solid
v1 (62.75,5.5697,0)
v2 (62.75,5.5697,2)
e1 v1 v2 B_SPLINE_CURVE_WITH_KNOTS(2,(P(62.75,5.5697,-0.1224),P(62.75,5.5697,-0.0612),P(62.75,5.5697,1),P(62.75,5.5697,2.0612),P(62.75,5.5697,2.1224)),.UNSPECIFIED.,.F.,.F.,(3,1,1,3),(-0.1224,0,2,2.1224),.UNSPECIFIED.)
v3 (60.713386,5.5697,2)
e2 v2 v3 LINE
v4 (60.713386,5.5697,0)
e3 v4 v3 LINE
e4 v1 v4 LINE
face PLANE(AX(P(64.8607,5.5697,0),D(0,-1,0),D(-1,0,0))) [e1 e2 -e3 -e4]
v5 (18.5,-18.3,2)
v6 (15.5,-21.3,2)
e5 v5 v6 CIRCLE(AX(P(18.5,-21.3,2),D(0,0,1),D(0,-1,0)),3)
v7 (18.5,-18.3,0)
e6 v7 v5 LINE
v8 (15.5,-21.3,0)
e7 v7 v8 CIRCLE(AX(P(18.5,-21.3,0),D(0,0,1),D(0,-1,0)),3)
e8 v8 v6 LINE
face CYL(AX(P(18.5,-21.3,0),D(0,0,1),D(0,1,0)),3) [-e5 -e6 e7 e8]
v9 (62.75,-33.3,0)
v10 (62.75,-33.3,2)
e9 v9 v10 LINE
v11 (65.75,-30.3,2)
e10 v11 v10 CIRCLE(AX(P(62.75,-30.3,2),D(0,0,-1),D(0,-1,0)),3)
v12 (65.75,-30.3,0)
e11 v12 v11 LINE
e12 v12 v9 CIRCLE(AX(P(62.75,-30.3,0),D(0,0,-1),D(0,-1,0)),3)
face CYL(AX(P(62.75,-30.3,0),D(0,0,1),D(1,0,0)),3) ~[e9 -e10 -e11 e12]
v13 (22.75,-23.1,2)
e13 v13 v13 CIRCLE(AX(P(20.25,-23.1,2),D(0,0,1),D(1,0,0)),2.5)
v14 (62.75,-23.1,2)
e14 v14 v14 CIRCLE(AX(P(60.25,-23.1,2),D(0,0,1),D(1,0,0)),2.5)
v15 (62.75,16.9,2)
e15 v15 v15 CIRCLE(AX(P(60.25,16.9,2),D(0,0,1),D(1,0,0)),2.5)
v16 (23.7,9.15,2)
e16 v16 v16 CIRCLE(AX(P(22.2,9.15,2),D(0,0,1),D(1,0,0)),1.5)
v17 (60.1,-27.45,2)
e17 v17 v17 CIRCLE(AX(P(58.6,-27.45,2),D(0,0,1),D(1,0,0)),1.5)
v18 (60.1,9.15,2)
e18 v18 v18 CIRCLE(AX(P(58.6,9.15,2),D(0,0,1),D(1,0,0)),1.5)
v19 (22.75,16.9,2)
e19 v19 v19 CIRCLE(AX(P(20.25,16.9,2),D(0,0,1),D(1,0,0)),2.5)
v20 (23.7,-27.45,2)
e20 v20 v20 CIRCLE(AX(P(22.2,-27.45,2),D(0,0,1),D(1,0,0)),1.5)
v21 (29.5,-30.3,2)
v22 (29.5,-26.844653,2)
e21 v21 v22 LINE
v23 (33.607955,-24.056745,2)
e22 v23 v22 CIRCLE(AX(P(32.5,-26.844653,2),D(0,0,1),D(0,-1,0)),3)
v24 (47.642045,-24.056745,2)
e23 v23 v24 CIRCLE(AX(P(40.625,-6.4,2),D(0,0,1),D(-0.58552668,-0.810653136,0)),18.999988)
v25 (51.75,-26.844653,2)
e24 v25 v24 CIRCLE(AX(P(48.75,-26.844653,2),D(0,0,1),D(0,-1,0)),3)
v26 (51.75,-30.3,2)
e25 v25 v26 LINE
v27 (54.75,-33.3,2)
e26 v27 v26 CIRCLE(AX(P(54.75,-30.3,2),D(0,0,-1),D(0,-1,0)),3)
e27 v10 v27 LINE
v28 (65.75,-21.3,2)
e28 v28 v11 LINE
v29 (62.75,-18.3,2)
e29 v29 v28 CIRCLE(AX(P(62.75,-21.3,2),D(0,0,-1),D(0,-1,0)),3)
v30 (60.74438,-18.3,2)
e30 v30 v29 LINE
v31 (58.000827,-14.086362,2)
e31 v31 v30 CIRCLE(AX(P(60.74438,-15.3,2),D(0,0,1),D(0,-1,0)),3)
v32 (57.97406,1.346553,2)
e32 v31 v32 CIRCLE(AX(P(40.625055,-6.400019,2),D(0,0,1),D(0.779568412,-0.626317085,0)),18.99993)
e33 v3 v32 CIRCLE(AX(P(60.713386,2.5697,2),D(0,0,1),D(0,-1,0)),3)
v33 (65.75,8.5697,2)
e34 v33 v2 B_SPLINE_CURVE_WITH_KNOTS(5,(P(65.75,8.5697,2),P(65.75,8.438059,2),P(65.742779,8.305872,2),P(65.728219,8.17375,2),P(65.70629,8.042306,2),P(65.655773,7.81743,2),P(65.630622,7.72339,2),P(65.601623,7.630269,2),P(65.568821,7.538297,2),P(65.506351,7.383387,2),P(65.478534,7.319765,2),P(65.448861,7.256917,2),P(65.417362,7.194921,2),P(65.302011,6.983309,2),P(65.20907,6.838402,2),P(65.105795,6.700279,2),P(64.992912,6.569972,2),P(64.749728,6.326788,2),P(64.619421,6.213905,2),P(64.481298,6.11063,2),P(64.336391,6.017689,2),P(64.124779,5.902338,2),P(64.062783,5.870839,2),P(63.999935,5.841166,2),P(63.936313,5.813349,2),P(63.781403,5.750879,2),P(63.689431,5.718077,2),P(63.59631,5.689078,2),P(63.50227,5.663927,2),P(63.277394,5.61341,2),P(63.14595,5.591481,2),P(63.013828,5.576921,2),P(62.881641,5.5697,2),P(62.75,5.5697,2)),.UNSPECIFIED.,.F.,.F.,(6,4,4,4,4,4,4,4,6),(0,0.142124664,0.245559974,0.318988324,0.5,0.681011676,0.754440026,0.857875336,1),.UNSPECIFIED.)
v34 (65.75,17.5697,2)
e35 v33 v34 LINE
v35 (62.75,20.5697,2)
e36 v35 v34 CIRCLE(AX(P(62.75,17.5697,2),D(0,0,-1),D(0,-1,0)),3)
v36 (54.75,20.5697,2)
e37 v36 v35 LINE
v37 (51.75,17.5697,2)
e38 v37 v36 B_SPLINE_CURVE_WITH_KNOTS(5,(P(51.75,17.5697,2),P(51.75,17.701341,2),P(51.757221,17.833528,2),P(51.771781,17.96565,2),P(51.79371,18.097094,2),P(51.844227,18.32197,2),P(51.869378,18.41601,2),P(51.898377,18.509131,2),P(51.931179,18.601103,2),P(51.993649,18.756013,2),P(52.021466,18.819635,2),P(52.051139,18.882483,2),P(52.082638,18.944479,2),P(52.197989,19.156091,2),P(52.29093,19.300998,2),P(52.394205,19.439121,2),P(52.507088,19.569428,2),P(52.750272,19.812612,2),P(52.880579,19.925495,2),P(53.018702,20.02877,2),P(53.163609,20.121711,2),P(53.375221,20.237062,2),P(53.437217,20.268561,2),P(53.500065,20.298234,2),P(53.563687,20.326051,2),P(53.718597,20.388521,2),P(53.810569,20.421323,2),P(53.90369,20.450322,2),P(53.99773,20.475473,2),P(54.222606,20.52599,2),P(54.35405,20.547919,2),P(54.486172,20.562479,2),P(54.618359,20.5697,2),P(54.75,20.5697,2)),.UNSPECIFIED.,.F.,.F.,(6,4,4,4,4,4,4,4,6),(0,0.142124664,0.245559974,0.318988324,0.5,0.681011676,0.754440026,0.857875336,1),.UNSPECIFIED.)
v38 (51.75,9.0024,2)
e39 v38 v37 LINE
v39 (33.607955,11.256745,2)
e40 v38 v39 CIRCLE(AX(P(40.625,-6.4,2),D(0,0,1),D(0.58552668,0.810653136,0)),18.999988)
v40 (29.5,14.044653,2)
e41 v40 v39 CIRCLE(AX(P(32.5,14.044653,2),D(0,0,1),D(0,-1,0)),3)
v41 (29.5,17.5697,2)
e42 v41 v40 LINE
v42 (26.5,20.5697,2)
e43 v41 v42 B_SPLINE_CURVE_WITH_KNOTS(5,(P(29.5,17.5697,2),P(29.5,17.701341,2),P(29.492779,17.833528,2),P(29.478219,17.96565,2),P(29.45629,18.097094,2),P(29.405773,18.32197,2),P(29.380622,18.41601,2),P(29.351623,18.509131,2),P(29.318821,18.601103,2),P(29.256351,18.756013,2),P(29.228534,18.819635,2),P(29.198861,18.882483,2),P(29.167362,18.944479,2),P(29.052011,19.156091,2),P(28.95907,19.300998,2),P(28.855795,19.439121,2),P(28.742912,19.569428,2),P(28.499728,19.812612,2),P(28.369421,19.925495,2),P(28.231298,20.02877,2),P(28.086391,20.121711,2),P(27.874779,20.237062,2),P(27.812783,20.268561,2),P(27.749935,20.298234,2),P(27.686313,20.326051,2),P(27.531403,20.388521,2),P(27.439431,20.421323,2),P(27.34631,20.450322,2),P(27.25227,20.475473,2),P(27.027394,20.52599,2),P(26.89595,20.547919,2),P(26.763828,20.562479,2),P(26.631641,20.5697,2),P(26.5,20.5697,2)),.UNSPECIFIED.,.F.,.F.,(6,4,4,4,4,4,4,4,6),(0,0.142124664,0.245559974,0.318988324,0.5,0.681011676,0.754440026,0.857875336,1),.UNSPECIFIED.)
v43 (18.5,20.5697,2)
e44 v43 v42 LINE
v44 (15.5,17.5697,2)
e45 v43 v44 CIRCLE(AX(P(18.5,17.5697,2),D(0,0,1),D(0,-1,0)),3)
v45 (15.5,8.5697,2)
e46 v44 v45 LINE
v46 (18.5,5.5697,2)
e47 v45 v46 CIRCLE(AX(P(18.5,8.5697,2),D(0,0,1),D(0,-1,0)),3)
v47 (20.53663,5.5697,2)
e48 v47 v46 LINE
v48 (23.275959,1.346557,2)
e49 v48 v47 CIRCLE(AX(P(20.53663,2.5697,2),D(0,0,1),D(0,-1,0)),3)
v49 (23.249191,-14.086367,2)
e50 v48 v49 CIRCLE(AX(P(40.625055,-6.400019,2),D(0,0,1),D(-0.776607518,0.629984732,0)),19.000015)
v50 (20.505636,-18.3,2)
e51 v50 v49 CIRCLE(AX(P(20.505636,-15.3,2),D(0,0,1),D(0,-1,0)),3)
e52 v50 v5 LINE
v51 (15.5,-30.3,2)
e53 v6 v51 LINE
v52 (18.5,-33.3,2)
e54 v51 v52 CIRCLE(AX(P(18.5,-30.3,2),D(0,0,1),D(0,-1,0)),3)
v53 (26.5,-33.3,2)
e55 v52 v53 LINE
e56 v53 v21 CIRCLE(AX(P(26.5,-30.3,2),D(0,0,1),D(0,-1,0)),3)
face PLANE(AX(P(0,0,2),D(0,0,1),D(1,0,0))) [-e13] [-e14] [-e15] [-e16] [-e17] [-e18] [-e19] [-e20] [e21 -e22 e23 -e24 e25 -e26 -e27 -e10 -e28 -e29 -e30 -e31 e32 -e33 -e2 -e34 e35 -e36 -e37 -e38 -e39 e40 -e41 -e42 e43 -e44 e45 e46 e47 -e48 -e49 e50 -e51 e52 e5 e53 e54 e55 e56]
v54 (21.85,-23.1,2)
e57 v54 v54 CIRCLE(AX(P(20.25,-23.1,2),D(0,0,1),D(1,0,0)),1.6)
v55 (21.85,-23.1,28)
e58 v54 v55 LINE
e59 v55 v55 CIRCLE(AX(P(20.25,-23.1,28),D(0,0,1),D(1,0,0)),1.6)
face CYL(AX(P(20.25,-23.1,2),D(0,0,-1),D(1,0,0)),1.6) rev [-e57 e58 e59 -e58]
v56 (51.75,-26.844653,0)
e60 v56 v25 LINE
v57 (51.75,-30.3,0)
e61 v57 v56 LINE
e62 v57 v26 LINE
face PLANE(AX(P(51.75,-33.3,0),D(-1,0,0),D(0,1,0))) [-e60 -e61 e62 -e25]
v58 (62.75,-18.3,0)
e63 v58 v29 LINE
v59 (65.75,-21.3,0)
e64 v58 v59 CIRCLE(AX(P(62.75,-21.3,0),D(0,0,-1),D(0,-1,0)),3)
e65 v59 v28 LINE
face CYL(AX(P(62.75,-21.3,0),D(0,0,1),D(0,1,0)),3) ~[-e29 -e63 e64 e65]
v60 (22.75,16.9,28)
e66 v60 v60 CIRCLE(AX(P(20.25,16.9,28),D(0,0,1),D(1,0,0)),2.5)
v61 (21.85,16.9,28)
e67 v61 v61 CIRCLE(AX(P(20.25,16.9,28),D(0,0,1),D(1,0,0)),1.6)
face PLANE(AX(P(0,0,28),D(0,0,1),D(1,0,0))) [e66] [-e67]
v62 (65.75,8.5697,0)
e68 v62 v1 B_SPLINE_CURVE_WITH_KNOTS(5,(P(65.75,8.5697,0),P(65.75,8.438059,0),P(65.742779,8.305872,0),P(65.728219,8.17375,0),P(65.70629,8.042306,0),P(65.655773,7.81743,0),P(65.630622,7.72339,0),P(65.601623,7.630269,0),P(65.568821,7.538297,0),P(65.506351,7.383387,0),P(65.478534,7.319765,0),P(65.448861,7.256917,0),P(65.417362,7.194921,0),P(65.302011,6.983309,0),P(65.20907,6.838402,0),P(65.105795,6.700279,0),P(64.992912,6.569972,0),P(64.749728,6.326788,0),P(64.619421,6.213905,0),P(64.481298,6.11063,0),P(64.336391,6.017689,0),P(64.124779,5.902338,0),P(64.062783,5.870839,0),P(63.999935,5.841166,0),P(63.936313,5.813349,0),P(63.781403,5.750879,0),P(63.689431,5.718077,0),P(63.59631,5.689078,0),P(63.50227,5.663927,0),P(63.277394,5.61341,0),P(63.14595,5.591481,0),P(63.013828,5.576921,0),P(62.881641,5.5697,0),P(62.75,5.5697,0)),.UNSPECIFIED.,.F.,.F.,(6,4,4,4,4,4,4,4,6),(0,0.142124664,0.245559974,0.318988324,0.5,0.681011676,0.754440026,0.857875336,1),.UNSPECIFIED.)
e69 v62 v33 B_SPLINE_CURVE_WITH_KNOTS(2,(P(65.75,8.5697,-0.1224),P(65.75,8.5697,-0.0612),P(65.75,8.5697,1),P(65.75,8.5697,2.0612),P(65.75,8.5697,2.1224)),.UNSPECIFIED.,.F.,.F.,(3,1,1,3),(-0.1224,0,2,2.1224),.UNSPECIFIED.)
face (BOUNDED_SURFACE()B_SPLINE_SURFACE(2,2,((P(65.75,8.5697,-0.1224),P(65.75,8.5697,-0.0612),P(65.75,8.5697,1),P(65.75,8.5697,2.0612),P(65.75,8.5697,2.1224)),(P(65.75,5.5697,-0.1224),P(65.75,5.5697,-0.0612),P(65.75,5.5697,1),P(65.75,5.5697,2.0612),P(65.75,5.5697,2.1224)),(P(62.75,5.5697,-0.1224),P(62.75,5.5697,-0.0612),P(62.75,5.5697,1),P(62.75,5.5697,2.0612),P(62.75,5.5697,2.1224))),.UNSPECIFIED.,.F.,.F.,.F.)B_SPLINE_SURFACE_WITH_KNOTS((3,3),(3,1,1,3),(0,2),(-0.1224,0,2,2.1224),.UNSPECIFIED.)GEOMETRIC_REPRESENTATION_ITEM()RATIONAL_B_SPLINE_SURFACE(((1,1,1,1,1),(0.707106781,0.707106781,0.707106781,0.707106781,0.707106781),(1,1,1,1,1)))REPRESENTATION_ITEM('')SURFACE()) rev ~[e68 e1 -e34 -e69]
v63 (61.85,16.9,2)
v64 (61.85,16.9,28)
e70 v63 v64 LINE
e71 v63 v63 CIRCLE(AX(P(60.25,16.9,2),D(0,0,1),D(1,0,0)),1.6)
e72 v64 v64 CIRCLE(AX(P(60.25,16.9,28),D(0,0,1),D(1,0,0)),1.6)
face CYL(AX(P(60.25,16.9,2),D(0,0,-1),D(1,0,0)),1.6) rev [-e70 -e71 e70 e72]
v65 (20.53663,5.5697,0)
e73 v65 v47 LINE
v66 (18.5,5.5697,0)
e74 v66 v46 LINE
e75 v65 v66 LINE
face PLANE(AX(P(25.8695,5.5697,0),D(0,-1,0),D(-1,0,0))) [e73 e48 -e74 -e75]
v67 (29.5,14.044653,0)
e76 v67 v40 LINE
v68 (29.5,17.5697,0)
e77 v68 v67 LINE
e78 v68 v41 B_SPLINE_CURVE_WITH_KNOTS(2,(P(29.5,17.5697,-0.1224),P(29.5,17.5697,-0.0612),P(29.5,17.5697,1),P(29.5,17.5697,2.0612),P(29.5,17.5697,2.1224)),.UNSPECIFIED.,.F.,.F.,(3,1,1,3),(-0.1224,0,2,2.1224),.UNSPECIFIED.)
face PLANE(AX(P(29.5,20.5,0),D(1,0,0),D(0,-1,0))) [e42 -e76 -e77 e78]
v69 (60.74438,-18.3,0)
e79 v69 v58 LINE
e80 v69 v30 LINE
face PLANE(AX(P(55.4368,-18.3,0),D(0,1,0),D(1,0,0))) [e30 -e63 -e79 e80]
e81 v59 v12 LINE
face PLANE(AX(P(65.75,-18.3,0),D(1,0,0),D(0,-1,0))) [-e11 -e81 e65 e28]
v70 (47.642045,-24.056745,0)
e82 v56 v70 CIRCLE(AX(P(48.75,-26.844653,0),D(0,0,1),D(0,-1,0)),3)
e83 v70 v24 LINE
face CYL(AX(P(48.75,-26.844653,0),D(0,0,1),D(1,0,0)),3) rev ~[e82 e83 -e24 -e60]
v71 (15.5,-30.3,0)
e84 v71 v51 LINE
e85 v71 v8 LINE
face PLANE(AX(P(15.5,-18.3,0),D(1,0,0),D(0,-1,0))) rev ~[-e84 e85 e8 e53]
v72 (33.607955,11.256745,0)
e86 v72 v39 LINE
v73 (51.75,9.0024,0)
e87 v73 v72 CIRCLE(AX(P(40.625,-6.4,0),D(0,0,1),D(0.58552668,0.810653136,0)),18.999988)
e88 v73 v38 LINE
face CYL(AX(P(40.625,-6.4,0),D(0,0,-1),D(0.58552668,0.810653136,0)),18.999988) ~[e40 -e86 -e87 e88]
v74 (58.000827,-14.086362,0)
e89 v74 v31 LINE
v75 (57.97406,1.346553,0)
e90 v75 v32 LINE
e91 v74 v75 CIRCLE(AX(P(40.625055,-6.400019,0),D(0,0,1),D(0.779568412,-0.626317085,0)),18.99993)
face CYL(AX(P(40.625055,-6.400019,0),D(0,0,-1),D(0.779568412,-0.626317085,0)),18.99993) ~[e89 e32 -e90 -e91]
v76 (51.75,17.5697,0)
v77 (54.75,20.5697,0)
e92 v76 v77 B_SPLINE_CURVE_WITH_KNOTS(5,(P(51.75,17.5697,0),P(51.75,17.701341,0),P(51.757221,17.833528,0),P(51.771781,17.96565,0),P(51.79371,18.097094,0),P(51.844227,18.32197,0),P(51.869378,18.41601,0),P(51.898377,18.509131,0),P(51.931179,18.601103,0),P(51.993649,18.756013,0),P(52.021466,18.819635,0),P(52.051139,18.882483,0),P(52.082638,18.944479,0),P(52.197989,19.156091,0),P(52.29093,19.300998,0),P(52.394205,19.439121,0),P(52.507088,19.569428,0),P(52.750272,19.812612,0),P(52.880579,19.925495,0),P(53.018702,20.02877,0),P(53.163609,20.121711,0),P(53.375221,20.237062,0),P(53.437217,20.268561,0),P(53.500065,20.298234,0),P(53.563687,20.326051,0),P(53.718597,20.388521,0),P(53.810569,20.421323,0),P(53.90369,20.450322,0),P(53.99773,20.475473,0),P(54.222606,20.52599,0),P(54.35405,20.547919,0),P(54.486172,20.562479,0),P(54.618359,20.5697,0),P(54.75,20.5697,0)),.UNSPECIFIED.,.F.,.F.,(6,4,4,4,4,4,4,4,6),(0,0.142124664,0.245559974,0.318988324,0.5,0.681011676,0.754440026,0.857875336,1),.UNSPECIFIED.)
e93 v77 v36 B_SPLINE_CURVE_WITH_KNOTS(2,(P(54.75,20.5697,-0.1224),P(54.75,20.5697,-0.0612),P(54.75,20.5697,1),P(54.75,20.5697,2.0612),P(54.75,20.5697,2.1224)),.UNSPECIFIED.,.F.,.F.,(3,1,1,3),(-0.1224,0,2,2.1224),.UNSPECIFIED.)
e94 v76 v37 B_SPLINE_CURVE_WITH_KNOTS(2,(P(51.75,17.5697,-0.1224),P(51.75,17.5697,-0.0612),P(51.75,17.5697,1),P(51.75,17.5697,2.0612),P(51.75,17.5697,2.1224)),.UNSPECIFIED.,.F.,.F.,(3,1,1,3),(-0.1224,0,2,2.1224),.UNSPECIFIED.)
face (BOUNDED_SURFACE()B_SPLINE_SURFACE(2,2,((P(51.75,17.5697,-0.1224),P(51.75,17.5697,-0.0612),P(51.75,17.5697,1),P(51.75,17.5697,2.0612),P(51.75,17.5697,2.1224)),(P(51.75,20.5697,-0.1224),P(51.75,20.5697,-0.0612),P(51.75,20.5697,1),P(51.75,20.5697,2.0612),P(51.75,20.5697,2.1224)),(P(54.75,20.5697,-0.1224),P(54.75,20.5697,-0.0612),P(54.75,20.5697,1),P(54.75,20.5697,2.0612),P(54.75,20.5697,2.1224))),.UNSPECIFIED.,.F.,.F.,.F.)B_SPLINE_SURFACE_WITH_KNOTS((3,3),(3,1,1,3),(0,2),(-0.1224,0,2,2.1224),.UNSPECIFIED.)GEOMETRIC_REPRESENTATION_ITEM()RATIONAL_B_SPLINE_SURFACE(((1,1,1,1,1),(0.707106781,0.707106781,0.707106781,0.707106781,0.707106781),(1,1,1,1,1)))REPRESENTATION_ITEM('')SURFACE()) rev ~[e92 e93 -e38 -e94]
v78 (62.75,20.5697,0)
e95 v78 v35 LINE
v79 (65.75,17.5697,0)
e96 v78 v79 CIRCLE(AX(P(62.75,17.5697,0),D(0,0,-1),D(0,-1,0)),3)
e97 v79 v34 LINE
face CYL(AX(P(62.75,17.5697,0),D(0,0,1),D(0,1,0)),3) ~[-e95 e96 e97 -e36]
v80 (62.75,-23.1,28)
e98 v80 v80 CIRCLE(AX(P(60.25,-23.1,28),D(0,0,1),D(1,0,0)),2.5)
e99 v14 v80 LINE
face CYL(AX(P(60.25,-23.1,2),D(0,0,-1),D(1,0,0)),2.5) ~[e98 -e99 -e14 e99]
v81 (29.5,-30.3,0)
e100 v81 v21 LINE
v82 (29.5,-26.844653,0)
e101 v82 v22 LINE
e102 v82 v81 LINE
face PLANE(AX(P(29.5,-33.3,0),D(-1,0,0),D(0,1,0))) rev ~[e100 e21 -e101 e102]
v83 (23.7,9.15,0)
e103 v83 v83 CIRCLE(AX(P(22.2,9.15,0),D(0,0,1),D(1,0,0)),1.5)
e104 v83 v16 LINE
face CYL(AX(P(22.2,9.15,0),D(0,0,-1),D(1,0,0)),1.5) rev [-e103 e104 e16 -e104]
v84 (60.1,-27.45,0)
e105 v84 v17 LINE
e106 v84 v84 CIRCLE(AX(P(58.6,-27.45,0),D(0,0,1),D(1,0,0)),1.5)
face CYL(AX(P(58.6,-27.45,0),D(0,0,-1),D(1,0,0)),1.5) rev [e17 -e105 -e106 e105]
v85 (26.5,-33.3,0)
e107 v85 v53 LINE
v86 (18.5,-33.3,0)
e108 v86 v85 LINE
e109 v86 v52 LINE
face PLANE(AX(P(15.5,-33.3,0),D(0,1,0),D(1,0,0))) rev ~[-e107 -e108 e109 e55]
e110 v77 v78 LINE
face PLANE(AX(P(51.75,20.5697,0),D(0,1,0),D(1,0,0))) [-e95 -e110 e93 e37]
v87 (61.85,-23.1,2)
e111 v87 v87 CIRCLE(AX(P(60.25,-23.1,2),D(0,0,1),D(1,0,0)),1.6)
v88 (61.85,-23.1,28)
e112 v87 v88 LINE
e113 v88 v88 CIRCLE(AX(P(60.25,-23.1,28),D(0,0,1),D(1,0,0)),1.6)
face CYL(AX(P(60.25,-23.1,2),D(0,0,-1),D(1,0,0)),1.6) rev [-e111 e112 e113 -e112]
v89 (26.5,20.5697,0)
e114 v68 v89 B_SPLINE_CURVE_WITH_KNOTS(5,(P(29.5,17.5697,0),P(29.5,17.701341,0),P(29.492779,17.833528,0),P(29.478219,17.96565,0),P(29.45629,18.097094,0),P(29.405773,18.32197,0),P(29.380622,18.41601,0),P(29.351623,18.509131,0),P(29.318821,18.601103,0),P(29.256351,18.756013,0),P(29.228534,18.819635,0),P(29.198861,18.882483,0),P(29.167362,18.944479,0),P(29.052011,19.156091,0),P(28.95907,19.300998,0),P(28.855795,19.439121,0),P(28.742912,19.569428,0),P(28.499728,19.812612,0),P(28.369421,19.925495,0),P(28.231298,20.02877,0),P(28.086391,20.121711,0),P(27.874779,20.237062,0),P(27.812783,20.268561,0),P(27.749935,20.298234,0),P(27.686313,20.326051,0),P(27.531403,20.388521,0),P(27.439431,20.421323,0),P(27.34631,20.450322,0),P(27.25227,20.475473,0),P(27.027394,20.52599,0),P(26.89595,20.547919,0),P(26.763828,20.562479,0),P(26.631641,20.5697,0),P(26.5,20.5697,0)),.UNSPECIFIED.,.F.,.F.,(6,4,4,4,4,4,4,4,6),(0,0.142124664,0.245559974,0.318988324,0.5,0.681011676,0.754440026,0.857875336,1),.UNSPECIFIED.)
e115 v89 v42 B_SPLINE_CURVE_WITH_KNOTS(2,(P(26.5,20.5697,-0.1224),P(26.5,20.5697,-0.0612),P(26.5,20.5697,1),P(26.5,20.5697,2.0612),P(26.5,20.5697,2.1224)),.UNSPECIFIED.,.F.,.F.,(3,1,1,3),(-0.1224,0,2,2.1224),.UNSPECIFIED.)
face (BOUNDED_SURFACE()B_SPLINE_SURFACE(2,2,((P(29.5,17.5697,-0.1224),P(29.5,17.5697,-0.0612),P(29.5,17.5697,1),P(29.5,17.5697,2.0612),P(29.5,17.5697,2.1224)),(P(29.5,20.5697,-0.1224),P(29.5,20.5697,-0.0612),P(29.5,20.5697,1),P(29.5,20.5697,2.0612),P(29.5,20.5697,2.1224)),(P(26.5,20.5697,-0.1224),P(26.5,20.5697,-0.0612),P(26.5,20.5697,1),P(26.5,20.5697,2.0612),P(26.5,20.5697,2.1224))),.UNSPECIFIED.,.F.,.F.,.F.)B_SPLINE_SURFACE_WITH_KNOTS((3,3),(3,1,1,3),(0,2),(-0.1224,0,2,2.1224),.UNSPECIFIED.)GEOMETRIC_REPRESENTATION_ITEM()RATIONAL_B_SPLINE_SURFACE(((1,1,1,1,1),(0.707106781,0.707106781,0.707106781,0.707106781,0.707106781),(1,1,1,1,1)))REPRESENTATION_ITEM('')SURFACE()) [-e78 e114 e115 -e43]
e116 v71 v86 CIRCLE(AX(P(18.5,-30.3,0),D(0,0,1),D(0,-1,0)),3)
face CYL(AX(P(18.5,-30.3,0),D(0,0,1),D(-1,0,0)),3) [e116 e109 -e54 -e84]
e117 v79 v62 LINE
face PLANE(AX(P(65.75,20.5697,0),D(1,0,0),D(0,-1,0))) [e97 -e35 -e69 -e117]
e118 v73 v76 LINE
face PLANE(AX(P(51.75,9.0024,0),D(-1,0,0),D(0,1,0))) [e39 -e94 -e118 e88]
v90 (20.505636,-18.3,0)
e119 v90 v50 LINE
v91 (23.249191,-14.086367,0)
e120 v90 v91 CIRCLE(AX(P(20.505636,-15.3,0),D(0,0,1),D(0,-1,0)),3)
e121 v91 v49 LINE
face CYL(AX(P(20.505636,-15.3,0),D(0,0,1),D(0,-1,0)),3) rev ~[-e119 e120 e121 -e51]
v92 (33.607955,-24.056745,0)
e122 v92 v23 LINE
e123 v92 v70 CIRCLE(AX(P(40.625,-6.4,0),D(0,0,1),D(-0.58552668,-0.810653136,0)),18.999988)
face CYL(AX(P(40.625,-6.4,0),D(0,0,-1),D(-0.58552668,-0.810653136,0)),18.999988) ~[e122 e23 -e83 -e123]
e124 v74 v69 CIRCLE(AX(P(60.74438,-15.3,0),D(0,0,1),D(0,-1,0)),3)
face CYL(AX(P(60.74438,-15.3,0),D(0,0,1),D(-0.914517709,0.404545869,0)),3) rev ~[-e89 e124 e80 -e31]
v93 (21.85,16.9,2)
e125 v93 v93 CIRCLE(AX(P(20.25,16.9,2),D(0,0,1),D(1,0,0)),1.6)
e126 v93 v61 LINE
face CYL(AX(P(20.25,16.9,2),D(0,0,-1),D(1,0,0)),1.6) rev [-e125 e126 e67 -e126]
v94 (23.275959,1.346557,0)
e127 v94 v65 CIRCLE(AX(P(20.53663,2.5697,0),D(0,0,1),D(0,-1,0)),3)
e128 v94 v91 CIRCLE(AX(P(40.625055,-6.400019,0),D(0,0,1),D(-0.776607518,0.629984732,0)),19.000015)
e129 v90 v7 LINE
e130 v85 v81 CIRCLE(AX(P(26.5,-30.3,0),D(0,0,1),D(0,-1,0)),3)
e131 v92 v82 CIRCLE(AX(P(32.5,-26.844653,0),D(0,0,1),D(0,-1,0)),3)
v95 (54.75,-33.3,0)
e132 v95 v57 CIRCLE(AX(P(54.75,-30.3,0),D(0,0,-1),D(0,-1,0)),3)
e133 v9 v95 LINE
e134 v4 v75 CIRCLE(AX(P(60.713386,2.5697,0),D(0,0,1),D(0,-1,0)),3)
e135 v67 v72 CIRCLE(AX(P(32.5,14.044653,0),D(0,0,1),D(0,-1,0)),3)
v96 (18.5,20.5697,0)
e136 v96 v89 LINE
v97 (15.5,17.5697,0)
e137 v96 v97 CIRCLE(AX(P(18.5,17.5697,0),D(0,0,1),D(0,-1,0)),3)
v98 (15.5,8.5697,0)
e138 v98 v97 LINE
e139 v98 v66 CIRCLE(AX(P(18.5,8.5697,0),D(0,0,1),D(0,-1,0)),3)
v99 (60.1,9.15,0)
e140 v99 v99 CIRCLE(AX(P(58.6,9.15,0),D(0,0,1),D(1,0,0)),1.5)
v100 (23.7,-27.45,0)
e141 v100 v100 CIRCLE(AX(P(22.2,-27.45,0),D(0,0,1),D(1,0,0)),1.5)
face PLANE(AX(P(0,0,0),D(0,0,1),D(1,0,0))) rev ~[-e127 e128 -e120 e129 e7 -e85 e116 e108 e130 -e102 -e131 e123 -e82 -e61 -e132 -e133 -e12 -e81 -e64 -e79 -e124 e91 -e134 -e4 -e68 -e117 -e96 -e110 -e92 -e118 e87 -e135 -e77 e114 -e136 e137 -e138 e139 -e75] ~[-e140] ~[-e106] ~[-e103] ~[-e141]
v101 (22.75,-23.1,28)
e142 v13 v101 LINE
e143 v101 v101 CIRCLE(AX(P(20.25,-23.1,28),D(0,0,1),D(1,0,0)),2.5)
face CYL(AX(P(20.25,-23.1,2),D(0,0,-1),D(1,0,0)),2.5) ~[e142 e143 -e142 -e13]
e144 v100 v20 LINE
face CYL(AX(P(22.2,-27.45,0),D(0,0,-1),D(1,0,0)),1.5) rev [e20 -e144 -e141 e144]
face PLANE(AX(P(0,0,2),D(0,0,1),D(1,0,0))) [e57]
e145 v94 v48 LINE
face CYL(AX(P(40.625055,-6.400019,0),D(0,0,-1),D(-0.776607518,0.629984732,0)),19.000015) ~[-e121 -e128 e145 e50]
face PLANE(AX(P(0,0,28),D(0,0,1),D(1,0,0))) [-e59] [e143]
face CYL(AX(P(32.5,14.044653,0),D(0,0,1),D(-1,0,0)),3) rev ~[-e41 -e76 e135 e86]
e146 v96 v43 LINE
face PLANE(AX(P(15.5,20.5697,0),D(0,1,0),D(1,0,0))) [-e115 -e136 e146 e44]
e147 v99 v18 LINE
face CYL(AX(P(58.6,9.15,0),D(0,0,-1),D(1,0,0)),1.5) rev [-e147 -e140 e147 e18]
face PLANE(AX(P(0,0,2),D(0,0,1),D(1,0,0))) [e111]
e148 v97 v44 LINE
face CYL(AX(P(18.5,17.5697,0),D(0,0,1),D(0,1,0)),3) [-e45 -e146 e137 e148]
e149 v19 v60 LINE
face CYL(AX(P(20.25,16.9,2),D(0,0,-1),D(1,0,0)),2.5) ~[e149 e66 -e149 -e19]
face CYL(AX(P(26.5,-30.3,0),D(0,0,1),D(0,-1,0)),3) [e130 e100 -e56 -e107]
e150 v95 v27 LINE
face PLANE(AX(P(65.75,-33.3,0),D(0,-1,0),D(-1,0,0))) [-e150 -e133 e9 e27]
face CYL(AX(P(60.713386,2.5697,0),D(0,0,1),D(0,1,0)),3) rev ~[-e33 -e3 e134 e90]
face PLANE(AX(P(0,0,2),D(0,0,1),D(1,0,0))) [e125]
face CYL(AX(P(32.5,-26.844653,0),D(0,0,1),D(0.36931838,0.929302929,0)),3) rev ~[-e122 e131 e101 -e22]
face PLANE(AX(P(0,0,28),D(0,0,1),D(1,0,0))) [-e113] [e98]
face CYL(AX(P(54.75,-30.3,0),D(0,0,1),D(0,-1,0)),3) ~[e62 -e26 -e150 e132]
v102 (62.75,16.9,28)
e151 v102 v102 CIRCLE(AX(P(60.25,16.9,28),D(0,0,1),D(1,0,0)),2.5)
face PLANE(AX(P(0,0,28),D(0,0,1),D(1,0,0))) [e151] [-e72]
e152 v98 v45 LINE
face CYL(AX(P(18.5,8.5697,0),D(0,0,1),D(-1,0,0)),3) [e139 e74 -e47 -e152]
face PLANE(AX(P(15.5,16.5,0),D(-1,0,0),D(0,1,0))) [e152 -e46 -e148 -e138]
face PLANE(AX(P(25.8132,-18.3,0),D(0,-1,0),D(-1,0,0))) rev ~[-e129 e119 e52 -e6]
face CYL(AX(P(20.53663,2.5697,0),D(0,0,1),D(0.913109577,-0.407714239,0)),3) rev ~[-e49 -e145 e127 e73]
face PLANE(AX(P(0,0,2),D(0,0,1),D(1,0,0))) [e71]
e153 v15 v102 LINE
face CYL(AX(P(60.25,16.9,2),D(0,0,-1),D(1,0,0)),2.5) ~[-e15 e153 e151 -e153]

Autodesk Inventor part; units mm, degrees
ref_plane "YZ Plane" through (0, 0, 0) normal (1, 0, 0) x (0, 1, 0)
ref_plane "XZ Plane" through (0, 0, 0) normal (0, 1, 0) x (-1, 0, 0)
ref_plane "Work Plane1" through (0, 0, 0) normal (0, 0, 1) x (1, 0, 0)
sketch "Sketch1" plane through (0, 0, 0) normal (0, 0, 1) x (1, 0, 0)
  circle A0 centre (22.2, -27.45) radius 1.5 projected
  circle A1 centre (58.6, -27.45) radius 1.5 projected
  circle A2 centre (22.2, 9.15) radius 1.5 projected
  circle A3 centre (58.6, 9.15) radius 1.5 projected
  line L0 (15.5, 16.5) -> (15.5, -25.3) projected
  line L1 (19.5, -29.3) -> (61, -29.3) projected
  line L2 (61, 20.5) -> (19.5, 20.5) projected
  line L3 (64.8607, 14) -> (64.8607, -18) projected
  line L4 (65.75, -18) -> (65.75, 14) projected
  line L5 (65.75, -33.3) -> (51.75, -33.3)
  line L6 (51.75, -33.3) -> (51.75, -21.8024)
  line L7 (55.4368, -18.3) -> (65.75, -18.3)
  line L8 (65.75, -18.3) -> (65.75, -33.3)
  line L9 (15.5, -33.3) -> (29.5, -33.3)
  line L10 (29.5, -33.3) -> (29.5, -21.8024)
  line L11 (25.8132, -18.3) -> (15.5, -18.3)
  line L12 (15.5, -18.3) -> (15.5, -33.3)
  line L13 (15.5, 20.5697) -> (29.5, 20.5697)
  line L14 (29.5, 20.5697) -> (29.5, 9.0024)
  line L15 (25.8695, 5.5697) -> (15.5, 5.5697)
  line L16 (15.5, 5.5697) -> (15.5, 20.5697)
  line L17 (51.75, 20.5697) -> (65.75, 20.5697)
  line L18 (65.75, 20.5697) -> (65.75, 5.5697)
  line L19 (65.75, 5.5697) -> (55.3805, 5.5697)
  line L20 (51.75, 9.0024) -> (51.75, 20.5697)
  arc A4 (51.75, 9.0024) -> (29.5, 9.0024) centre (40.625, -6.4) ccw
  arc A5 (25.8695, 5.5697) -> (25.8132, -18.3) centre (40.625, -6.4) ccw
  arc A6 (29.5, -21.8024) -> (51.75, -21.8024) centre (40.625, -6.4) ccw
  arc A7 (55.4368, -18.3) -> (55.3805, 5.5697) centre (40.625, -6.4) ccw
  line L21 (65.75, 20.5697) -> (65.75, 5.5697)
  line L22 (65.75, -18.3) -> (65.75, -33.3)
  line L23 (15.5, 20.5697) -> (29.5, 20.5697)
  line L24 (51.75, 20.5697) -> (65.75, 20.5697)
  line L25 (15.5, -33.3) -> (15.5, -18.3)
  line L26 (15.5, 5.5697) -> (15.5, 20.5697)
  point P0 (0, 0)
  point P1 (40.25, 20.5)
  dimension "d10" = 50.25
  dimension "d13" = 26.9
extrude "Extrusion1" add sketch "Sketch1" along normal blind 2 contours L16 L13 L14 A4 L20 L17 L18 L4 L19 A7 L7 L8 L5 L6 A6 L10 L9 L12 L0 L11 A5 L15
fillet "Fillet1" radius 3 7 edges at (55.3805, 5.5697, 1) (29.5, -21.8024, 1) (25.8132, -18.3, 1) (29.5, 9.0024, 1) (55.4368, -18.3, 1) (25.8695, 5.5697, 1) (51.75, -21.8024, 1)
fillet "Fillet2" radius 3 12 edges at (15.5, 20.5697, 1) (15.5, 5.5697, 1) (29.5, 20.5697, 1) (51.75, 20.5697, 1) (65.75, 20.5697, 1) (65.75, -18.3, 1) (51.75, -33.3, 1) (15.5, -18.3, 1) (15.5, -33.3, 1) (29.5, -33.3, 1) (65.75, -33.3, 1) (65.75, 5.5697, 1)
sketch "Sketch2" plane through (0, 0, 2) normal (0, 0, 1) x (1, 0, 0)
  circle A0 centre (60.25, -23.1) radius 1.6 projected
  circle A1 centre (20.25, -23.1) radius 1.6 projected
  circle A2 centre (20.25, 16.9) radius 1.6 projected
  circle A3 centre (60.25, 16.9) radius 1.6 projected
  circle A4 centre (20.25, -23.1) radius 2.5
  circle A5 centre (60.25, 16.9) radius 2.5
  circle A6 centre (20.25, 16.9) radius 2.5
  circle A7 centre (60.25, -23.1) radius 2.5
  point P0 (0, 0)
  dimension "d17" = 5
  dimension "d18" = 5
  dimension "d19" = 5
  dimension "d20" = 5
extrude "Extrusion2" add sketch "Sketch2" along normal blind 26
equation "\"d13\" = 0.5 * d11"
equation "\"d11\" = 53.8"
properties part number "soporteHBridge"
